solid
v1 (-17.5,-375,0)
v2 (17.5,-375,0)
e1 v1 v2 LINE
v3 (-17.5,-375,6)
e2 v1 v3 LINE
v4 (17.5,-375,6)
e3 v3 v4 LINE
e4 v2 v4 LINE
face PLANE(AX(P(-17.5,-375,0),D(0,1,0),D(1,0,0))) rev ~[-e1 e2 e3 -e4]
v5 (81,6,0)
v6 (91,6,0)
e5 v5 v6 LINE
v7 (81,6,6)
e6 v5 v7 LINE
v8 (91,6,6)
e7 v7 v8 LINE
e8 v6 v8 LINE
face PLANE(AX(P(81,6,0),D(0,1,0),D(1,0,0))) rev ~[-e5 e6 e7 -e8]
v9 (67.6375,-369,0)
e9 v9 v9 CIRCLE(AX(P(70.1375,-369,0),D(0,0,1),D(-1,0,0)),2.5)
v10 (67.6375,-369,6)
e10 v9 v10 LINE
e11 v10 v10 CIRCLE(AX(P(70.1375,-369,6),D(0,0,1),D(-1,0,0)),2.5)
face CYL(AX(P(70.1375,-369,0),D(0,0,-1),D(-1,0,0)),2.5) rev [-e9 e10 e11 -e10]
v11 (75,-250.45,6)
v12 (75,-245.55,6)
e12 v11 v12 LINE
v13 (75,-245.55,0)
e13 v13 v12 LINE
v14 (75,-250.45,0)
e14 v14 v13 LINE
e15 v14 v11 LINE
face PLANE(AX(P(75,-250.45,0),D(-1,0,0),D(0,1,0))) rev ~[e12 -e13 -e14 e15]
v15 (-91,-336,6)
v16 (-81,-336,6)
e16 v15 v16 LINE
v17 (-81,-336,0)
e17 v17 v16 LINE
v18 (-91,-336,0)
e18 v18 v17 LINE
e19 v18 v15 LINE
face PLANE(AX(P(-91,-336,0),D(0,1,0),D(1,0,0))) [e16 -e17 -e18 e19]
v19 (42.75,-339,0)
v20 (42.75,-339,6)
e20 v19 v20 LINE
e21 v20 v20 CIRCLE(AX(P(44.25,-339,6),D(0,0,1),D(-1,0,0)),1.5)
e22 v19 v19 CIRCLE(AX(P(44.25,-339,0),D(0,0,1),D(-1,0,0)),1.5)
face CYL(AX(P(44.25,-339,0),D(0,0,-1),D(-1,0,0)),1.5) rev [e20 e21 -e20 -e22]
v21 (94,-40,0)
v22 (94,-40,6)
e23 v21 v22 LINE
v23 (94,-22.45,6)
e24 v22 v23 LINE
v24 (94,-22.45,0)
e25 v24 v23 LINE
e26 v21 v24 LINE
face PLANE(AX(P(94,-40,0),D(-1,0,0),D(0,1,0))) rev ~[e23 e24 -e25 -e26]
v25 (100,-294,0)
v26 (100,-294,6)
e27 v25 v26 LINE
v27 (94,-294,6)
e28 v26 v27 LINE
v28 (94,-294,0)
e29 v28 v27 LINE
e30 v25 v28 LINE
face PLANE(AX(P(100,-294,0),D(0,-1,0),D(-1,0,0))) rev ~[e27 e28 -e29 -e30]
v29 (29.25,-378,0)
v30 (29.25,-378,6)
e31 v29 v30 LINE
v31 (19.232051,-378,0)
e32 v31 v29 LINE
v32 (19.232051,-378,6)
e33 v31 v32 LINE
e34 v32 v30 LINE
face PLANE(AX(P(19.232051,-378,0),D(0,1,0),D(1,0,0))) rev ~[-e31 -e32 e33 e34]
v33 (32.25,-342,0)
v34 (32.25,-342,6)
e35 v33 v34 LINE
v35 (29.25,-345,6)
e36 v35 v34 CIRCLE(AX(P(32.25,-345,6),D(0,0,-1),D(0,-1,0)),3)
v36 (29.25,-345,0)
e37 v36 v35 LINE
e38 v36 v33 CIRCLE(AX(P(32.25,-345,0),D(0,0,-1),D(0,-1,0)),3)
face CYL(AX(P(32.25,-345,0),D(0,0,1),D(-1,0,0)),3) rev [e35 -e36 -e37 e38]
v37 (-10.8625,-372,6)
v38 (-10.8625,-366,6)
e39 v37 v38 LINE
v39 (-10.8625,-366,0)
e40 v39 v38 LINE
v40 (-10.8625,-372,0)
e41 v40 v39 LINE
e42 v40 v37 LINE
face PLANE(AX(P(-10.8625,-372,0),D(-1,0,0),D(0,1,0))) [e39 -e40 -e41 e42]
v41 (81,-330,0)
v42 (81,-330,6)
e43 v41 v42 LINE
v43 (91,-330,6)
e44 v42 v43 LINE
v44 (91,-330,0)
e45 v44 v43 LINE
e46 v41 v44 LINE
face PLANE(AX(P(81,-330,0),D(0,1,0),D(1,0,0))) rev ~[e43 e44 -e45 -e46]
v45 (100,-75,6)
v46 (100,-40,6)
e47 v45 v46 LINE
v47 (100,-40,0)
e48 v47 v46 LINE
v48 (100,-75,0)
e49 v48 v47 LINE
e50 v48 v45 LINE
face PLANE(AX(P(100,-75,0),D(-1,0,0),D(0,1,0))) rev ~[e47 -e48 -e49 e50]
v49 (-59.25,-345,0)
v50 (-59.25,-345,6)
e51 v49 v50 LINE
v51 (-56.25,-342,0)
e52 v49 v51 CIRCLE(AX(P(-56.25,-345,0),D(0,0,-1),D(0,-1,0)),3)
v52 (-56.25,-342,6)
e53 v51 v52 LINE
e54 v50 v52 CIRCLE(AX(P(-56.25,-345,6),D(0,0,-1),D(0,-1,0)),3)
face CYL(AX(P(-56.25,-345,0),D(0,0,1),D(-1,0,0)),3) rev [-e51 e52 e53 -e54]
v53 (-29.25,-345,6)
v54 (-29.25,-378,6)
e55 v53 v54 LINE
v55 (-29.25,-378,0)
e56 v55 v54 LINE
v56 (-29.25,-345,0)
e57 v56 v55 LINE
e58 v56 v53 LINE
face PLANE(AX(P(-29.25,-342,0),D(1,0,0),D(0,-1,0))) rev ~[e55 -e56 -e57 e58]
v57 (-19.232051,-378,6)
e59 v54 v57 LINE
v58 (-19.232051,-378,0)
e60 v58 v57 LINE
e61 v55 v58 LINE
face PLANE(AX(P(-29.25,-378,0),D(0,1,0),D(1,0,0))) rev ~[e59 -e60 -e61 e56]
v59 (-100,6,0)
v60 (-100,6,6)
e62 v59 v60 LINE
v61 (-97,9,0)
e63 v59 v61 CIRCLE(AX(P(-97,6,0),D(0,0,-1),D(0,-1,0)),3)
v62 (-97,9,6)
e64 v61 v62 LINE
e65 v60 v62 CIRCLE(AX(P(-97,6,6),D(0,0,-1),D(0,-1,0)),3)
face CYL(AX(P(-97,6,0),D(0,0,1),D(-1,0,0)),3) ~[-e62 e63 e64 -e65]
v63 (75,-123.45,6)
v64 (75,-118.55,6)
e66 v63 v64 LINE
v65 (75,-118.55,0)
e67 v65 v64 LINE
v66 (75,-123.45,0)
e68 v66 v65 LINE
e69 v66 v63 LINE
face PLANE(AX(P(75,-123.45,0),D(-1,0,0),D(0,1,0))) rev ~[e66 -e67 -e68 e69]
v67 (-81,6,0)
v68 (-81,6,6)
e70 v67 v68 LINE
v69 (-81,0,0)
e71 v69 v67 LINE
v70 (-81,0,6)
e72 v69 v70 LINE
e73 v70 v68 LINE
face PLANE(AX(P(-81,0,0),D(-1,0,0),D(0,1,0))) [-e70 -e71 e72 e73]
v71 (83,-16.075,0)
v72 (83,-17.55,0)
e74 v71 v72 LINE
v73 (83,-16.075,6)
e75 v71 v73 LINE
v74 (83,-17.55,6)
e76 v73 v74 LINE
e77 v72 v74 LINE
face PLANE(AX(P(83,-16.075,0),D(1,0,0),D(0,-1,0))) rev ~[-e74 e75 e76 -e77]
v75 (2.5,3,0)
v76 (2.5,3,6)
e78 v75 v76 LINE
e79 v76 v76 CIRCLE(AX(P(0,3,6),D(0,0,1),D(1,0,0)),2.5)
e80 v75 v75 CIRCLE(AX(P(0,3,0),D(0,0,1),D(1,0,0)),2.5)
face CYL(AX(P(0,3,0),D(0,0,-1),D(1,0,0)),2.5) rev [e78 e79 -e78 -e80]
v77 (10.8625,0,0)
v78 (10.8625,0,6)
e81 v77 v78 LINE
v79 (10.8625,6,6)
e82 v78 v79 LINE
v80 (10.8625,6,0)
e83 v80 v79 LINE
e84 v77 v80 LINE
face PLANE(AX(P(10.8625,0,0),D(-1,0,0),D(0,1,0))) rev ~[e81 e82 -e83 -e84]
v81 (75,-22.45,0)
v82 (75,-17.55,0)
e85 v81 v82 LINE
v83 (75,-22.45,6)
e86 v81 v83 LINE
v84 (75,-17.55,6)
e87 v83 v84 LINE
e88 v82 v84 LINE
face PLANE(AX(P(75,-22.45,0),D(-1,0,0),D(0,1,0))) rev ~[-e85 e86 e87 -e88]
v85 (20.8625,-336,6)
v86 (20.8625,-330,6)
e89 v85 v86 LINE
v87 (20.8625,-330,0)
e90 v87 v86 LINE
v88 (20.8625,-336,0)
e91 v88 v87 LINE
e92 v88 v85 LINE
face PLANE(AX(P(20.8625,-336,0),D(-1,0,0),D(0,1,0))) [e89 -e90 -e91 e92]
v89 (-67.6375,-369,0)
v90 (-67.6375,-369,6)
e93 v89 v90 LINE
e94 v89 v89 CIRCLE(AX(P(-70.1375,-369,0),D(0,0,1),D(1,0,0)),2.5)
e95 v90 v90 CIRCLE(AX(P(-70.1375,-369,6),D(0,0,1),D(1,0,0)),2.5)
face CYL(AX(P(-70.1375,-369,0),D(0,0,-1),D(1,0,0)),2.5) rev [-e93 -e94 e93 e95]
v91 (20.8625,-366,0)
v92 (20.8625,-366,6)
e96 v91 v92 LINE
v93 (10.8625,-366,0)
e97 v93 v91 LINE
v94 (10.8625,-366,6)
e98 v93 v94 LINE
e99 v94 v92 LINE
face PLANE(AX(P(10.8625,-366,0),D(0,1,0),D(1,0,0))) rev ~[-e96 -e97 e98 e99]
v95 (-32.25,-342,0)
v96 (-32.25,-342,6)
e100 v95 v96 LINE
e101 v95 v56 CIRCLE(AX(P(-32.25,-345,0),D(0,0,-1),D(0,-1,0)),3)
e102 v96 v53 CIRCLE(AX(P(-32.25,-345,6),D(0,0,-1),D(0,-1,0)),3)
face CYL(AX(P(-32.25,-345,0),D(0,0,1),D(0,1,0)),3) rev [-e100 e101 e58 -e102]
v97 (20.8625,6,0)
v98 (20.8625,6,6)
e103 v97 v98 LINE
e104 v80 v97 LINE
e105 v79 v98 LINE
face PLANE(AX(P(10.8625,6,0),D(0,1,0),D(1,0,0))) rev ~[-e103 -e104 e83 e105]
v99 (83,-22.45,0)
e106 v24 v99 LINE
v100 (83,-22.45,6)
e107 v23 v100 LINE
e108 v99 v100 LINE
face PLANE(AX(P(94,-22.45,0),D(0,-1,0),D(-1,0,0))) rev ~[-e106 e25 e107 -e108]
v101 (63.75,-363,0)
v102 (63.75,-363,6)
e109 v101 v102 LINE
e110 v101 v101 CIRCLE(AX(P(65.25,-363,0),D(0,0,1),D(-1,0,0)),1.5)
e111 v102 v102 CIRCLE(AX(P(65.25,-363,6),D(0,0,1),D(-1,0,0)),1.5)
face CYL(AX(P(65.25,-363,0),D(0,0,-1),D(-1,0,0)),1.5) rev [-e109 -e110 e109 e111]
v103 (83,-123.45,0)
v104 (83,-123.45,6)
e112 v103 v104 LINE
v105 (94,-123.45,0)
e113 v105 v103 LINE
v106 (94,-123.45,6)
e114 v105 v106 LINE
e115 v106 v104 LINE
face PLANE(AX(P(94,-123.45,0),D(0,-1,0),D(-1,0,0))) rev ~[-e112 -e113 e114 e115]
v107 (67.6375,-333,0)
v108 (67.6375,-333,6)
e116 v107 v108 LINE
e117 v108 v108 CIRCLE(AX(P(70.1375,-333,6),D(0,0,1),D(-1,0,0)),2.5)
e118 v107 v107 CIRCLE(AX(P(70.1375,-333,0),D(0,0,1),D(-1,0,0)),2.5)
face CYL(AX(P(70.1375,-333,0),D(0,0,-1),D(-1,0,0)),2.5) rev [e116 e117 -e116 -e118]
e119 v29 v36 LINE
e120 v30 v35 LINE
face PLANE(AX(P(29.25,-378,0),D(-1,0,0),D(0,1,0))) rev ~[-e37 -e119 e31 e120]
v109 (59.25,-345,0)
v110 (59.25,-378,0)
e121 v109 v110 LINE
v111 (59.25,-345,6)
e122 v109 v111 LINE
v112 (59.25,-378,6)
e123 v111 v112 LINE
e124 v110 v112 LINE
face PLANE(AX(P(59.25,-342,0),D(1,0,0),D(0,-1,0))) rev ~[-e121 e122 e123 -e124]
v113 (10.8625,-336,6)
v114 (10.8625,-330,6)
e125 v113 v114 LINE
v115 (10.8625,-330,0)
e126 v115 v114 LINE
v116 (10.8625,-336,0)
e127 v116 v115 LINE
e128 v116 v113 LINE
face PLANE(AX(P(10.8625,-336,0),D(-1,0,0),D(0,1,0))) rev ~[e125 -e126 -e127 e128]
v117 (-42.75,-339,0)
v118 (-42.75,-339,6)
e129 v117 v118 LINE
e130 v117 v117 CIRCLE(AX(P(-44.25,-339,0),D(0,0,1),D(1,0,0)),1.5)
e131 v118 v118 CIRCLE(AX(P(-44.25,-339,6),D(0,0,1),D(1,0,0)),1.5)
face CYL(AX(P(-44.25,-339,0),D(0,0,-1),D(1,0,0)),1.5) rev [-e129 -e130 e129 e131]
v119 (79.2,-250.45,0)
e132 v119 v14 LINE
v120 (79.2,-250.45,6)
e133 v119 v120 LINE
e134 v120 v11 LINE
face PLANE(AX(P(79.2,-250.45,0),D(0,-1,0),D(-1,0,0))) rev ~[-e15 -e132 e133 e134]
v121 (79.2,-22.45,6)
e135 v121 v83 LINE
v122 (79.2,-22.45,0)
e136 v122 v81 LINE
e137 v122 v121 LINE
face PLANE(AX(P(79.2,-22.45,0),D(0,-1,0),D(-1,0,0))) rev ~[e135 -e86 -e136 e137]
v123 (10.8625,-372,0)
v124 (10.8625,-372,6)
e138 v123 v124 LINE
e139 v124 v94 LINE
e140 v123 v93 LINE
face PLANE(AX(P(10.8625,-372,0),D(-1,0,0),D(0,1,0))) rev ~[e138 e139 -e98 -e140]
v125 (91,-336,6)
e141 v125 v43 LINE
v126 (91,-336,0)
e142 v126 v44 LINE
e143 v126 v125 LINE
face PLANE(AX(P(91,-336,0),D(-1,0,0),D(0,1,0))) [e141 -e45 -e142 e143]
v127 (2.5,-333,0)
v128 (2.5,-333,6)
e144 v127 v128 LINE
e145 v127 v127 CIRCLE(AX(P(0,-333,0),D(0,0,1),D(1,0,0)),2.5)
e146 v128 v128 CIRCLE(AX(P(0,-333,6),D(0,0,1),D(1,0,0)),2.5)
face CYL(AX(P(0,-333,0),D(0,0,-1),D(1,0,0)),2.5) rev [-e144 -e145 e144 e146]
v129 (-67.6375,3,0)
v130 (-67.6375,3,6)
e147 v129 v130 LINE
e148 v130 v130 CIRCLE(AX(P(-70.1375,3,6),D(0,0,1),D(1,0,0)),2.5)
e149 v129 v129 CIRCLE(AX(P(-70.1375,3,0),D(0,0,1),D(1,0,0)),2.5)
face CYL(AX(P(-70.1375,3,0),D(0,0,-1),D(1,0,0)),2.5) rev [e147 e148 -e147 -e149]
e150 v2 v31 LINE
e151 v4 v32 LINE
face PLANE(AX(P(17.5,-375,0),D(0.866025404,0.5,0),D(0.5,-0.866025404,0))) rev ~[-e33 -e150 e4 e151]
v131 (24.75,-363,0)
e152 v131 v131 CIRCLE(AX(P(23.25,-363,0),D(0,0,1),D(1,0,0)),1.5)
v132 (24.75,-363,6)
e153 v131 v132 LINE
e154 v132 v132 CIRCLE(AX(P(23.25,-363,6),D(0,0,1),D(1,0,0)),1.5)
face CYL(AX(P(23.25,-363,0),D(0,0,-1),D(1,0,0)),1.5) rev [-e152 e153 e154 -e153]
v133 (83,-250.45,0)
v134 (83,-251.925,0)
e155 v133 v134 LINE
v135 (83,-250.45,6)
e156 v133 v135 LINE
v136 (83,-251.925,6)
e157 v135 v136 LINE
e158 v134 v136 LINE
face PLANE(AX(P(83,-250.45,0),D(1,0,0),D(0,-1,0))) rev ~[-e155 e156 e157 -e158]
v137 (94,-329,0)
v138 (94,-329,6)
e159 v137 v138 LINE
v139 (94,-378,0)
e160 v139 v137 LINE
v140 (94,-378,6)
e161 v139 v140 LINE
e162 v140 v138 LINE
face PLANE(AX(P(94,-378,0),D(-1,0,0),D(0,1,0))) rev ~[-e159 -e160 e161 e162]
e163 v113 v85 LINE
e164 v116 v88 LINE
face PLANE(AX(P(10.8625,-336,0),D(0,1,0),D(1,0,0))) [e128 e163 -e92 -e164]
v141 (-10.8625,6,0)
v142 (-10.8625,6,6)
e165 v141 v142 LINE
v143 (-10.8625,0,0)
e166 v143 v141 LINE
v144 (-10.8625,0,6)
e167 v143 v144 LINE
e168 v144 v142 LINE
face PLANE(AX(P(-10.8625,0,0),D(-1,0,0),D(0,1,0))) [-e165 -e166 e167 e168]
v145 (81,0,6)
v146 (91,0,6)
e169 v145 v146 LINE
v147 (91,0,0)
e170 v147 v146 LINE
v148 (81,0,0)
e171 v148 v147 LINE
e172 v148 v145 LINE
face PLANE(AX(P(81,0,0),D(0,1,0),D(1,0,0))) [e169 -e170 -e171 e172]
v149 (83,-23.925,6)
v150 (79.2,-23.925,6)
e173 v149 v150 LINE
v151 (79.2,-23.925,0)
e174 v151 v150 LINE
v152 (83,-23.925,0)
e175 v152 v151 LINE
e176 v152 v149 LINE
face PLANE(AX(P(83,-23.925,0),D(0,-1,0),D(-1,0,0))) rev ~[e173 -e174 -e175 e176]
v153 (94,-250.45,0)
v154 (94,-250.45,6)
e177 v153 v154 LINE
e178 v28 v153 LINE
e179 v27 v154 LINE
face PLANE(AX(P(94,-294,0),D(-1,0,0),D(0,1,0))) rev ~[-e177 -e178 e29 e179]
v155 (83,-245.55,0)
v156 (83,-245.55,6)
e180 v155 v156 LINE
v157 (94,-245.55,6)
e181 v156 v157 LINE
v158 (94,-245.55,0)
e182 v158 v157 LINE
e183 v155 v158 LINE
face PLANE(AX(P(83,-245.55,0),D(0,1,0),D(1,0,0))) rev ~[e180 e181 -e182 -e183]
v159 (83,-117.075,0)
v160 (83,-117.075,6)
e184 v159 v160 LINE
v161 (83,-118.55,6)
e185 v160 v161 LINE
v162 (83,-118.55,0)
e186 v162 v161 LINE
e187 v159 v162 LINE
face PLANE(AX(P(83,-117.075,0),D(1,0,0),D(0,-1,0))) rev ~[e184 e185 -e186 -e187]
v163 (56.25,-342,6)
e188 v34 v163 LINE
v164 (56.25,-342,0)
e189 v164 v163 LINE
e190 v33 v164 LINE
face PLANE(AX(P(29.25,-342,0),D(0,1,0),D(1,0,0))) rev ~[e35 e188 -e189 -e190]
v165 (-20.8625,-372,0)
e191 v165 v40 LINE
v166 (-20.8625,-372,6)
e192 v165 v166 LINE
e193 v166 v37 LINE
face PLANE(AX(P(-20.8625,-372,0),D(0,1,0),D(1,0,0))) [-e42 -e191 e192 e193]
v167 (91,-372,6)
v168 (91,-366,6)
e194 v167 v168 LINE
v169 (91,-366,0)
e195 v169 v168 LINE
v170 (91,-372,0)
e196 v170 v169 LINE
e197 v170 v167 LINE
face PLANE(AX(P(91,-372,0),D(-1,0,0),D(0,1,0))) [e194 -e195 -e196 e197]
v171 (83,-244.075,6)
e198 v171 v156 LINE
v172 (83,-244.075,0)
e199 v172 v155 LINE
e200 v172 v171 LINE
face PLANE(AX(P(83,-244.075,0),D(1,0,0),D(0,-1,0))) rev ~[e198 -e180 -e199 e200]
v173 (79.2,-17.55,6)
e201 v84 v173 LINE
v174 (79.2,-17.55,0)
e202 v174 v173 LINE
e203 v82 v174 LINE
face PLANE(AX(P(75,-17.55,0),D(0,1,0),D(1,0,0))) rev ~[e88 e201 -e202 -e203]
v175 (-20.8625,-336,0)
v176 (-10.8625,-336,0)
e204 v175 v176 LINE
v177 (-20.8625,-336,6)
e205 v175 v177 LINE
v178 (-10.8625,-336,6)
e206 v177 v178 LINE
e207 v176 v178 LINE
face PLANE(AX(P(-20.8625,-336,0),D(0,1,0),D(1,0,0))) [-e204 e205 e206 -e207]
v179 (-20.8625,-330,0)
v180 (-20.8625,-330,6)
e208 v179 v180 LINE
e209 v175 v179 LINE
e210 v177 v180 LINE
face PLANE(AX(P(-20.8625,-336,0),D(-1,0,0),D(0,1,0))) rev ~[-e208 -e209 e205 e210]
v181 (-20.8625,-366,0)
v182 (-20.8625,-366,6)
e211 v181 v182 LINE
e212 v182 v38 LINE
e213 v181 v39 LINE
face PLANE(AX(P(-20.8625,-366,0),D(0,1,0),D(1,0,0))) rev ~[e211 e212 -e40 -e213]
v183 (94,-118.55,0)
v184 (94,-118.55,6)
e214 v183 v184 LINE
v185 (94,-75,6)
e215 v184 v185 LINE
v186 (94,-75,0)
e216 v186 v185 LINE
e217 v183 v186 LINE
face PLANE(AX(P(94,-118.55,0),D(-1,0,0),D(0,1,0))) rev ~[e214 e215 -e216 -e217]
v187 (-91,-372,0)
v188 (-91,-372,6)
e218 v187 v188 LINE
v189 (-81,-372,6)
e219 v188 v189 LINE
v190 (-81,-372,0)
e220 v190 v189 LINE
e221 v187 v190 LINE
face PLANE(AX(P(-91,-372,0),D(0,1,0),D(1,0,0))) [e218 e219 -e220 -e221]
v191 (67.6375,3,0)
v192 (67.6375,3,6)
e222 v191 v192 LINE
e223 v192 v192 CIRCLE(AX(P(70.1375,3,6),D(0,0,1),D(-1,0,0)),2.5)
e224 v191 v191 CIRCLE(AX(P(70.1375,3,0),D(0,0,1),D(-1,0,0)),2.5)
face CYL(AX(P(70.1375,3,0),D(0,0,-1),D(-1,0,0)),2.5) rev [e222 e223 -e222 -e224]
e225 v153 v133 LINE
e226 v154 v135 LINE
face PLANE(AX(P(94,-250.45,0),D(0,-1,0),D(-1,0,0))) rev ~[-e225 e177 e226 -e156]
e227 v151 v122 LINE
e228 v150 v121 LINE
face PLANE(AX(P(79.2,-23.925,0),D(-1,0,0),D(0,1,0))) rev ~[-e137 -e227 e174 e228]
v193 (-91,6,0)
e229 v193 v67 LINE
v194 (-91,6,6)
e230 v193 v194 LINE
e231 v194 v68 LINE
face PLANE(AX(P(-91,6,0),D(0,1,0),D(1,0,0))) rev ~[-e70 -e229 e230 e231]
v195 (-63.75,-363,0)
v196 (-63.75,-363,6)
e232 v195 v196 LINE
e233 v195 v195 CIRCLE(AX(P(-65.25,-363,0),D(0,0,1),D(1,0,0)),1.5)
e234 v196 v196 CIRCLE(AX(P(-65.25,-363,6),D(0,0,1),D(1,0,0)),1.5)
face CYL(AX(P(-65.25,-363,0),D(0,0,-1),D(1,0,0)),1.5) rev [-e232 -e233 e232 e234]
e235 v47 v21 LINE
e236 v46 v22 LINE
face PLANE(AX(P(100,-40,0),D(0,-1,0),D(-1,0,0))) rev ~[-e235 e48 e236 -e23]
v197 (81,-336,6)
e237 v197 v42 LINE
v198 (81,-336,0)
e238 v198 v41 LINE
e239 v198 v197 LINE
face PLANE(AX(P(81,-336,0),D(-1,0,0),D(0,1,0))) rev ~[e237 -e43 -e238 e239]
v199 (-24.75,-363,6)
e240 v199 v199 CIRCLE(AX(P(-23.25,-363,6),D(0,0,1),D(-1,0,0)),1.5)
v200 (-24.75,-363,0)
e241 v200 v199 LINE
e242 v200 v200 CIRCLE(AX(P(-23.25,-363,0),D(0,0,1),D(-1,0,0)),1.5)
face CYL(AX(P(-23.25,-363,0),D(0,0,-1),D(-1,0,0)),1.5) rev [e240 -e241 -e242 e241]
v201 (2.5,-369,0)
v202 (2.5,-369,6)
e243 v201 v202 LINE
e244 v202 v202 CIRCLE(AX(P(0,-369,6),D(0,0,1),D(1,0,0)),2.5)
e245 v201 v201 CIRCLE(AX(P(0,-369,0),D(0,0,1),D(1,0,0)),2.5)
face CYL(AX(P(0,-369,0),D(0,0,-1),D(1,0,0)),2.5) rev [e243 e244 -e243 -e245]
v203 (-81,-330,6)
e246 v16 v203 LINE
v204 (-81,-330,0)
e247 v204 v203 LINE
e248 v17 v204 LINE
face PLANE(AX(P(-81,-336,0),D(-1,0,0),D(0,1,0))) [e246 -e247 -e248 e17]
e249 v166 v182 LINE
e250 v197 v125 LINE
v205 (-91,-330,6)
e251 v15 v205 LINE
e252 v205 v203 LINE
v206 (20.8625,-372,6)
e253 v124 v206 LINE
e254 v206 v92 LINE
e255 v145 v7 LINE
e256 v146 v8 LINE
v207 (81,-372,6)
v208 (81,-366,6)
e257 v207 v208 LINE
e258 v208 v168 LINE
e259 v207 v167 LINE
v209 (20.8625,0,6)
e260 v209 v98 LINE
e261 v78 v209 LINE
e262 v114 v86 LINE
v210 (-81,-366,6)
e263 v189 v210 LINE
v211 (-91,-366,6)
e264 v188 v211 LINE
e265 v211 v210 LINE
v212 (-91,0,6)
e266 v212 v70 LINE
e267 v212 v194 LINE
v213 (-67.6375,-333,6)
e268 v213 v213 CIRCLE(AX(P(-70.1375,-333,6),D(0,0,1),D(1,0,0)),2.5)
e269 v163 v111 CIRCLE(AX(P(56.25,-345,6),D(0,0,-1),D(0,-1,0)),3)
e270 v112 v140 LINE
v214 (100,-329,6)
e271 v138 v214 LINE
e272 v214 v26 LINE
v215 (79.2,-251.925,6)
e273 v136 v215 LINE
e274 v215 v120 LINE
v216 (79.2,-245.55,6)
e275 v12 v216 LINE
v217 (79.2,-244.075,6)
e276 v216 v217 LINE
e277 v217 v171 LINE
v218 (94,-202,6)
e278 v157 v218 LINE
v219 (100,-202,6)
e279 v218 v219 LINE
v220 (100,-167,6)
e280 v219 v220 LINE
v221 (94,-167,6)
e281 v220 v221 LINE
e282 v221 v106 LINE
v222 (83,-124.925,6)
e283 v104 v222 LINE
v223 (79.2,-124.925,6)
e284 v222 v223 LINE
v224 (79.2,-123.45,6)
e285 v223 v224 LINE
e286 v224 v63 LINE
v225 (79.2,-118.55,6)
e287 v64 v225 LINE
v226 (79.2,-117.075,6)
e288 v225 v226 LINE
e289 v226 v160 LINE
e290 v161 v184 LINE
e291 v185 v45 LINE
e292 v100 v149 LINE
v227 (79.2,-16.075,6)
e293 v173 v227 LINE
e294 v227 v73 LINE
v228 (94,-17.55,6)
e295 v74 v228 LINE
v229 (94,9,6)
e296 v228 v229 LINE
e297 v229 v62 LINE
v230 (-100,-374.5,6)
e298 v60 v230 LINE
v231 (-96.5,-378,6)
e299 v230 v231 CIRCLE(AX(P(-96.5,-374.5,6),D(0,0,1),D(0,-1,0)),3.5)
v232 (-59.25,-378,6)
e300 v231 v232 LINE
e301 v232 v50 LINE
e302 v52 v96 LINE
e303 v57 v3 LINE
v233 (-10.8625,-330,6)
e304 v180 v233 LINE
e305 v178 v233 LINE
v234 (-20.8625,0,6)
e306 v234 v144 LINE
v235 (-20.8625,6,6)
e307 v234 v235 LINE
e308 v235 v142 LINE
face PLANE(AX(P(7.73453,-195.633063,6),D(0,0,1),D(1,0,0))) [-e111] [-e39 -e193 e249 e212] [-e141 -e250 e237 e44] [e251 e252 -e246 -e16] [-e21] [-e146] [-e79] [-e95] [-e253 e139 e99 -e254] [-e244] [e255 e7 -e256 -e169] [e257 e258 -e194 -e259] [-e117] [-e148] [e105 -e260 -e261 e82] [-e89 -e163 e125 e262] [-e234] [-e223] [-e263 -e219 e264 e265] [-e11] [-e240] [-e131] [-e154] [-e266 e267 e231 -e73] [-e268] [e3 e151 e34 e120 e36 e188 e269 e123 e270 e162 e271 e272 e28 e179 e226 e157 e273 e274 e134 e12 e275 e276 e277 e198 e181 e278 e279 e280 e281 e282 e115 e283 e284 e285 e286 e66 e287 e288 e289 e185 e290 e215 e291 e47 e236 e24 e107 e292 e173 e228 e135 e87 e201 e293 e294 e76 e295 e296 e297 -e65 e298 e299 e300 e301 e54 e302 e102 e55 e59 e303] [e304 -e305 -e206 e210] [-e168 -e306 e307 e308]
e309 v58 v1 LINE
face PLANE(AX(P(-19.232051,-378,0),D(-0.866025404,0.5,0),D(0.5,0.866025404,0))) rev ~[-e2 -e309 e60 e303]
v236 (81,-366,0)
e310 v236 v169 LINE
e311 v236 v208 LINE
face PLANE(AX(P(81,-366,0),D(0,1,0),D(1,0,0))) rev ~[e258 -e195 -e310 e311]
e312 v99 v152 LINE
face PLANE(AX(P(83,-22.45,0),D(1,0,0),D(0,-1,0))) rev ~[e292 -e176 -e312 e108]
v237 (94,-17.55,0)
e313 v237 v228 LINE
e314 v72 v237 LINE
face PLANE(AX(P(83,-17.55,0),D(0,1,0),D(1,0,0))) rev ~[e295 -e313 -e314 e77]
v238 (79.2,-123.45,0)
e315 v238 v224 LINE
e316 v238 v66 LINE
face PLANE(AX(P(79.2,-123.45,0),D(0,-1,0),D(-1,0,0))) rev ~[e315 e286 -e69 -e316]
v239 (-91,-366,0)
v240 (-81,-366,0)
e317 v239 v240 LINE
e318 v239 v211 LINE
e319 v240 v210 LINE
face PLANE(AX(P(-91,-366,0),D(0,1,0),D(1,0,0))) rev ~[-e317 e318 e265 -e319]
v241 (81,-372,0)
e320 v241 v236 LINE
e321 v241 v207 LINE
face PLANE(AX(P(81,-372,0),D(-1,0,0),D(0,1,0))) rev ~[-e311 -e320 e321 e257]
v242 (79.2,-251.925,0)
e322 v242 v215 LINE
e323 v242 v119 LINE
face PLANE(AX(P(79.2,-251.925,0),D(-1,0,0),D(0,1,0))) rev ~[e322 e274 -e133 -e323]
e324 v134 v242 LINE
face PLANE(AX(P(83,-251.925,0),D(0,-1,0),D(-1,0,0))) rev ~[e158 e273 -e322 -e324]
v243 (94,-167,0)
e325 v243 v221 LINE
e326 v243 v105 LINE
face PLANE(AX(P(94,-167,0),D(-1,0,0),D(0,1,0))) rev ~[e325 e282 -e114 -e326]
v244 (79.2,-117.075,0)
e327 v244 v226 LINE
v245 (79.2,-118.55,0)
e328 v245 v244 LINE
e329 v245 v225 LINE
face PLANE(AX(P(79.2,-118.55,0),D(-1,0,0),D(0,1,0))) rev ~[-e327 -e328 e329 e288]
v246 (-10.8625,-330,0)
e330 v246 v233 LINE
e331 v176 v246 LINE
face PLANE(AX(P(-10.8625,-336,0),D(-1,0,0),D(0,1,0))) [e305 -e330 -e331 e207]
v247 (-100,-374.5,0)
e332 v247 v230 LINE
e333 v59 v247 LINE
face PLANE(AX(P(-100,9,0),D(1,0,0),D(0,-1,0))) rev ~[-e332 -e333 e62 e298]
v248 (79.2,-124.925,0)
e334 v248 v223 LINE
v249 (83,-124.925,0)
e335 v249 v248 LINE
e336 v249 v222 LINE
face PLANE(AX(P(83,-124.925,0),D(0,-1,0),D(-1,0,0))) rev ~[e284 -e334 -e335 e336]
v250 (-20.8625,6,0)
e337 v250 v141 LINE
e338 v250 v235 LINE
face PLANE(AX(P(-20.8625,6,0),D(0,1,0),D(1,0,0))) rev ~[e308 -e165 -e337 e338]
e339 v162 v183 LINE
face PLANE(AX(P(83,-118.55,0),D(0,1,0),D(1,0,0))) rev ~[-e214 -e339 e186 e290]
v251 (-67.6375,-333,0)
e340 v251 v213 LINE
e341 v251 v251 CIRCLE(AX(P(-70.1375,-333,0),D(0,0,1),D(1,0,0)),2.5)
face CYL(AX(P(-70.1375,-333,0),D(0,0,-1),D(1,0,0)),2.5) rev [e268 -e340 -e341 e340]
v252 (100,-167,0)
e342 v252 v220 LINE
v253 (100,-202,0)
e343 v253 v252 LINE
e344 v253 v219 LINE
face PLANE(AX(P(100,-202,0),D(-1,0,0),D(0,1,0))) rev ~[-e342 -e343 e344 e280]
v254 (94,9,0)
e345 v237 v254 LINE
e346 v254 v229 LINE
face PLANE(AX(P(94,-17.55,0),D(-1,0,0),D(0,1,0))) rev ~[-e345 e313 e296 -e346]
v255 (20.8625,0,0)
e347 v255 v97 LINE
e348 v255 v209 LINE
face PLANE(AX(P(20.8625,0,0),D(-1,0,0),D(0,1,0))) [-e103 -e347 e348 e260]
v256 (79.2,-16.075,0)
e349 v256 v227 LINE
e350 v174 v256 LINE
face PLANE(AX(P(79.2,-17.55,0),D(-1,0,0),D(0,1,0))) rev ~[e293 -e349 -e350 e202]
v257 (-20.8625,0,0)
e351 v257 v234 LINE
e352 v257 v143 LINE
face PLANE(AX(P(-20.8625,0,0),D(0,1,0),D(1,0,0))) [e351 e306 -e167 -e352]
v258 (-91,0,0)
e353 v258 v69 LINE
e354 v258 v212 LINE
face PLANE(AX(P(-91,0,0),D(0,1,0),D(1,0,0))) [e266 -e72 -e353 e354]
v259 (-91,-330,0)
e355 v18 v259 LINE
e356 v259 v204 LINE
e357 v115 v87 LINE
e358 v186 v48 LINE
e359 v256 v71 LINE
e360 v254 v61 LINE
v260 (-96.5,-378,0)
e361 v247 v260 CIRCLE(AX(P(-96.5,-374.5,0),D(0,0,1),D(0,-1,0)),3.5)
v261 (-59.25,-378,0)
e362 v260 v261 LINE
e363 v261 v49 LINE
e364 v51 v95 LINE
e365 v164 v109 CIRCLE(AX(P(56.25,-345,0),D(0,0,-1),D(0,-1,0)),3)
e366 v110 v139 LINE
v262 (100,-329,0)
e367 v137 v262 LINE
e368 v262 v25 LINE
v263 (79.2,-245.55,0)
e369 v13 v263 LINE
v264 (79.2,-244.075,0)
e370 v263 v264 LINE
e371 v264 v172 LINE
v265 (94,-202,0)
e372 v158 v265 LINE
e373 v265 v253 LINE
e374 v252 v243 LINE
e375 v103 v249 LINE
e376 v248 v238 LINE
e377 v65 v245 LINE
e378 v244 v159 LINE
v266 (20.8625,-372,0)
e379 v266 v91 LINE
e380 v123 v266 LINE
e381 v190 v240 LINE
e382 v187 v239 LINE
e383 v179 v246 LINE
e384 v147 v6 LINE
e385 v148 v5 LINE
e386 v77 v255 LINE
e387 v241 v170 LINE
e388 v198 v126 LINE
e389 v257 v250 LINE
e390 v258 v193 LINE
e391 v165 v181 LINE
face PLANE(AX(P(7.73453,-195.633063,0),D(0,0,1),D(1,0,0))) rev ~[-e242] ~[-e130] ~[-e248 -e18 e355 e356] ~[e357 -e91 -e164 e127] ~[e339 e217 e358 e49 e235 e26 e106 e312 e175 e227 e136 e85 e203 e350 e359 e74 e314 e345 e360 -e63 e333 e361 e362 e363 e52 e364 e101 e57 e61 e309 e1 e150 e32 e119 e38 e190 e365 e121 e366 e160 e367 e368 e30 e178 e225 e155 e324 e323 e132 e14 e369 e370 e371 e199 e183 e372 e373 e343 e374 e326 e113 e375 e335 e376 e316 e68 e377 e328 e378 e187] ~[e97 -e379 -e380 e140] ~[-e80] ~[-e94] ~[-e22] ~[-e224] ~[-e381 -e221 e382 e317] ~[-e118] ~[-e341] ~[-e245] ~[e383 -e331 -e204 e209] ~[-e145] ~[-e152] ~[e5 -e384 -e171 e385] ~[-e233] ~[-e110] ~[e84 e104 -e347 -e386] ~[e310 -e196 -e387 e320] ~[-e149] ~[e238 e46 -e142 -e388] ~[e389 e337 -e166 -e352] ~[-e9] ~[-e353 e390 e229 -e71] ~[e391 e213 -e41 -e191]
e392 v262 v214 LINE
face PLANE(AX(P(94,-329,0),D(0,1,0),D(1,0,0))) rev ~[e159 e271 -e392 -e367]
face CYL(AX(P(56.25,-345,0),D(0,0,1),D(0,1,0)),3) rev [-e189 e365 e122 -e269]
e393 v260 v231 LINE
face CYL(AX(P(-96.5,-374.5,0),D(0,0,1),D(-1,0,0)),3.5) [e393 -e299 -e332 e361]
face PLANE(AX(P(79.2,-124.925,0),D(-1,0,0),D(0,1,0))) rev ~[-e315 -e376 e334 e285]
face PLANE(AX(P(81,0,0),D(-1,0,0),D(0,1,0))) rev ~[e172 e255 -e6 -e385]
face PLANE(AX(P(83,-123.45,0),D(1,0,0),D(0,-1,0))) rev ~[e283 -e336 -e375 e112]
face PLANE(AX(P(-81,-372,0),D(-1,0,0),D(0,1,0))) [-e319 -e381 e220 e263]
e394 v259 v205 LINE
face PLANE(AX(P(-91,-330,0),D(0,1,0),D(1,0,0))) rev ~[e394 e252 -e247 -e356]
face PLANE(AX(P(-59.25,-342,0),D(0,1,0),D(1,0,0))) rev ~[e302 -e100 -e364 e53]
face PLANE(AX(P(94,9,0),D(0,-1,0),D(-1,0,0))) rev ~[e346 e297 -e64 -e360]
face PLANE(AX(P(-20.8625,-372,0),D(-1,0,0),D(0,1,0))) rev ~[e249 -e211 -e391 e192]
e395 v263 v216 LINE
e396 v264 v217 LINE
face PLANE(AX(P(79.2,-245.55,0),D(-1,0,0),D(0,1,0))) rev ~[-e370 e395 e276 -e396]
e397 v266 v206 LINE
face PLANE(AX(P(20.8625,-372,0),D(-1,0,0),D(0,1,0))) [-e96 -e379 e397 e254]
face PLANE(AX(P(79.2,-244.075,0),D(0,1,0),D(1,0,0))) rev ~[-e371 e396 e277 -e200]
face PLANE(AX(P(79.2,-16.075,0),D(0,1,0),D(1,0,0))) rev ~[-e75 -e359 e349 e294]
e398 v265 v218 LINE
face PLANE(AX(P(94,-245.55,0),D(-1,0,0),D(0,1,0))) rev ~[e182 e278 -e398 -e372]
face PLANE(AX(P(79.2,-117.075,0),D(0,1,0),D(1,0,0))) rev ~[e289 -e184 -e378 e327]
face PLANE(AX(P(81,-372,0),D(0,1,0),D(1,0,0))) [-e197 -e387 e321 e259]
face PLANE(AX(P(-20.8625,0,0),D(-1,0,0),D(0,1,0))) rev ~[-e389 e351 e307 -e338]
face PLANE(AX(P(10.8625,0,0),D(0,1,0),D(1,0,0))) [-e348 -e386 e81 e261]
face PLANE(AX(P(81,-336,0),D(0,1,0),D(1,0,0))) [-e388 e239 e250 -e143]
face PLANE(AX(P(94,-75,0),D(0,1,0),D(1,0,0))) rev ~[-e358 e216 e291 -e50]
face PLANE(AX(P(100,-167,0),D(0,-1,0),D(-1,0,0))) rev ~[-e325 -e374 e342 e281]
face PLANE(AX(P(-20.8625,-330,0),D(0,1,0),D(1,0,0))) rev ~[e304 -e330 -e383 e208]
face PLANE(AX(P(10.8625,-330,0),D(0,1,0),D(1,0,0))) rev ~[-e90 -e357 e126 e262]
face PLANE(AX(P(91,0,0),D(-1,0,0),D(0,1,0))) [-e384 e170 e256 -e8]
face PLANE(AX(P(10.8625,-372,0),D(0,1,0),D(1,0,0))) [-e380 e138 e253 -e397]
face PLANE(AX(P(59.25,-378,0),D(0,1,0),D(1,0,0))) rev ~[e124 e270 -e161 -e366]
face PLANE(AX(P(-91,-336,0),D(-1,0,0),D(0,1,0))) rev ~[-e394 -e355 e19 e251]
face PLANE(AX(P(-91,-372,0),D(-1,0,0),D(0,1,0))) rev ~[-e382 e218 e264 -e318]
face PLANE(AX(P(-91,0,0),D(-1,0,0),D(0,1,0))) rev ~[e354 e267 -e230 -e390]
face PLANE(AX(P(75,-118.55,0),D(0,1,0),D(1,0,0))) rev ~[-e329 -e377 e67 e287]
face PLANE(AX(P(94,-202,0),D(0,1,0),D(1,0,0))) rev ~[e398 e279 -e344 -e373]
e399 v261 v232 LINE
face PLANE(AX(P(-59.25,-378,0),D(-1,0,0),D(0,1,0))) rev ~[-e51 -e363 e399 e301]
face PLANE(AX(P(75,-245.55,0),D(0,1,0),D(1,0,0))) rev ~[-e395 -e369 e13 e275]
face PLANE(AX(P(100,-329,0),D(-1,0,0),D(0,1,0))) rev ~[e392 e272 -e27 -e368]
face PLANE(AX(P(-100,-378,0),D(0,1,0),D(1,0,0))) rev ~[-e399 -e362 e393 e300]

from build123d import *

# Parameters (mm, degrees)
SKETCH_1_R      = 2.5
SKETCH_1_R_2    = 1.5
SKETCH_1_W      = 10
SKETCH_1_H      = 6
EXTRUDE_1_DEPTH = 6
FILLET_1_R      = 3
FILLET_2_R      = 3.5


with BuildPart() as part:
    # Эскиз1 → Бобышка-Вытянуть1 (new body)
    with BuildSketch(Plane.XY):
        Polygon((-100, 9), (-100, -378), (-59.25, -378), (-59.25, -342), (-29.25, -342), (-29.25, -378), (-19.232050808, -378), (-17.5, -375), (17.5, -375), (19.232050808, -378), (29.25, -378), (29.25, -342), (59.25, -342), (59.25, -378), (94, -378), (94, -329), (100, -329), (100, -294), (94, -294), (94, -250.45), (83, -250.45), (83, -251.925), (79.2, -251.925), (79.2, -250.45), (75, -250.45), (75, -245.55), (79.2, -245.55), (79.2, -244.075), (83, -244.075), (83, -245.55), (94, -245.55), (94, -202), (100, -202), (100, -167), (94, -167), (94, -123.45), (83, -123.45), (83, -124.925), (79.2, -124.925), (79.2, -123.45), (75, -123.45), (75, -118.55), (79.2, -118.55), (79.2, -117.075), (83, -117.075), (83, -118.55), (94, -118.55), (94, -75), (100, -75), (100, -40), (94, -40), (94, -22.45), (83, -22.45), (83, -23.925), (79.2, -23.925), (79.2, -22.45), (75, -22.45), (75, -17.55), (79.2, -17.55), (79.2, -16.075), (83, -16.075), (83, -17.55), (94, -17.55), (94, 9), align=None)
        with Locations((-70.1375, 3)):
            Circle(SKETCH_1_R, mode=Mode.SUBTRACT)
        with Locations((0, 3)):
            Circle(SKETCH_1_R, mode=Mode.SUBTRACT)
        with Locations(Location((70.1375, 3, 0), (0, 0, 180))):
            Circle(SKETCH_1_R, mode=Mode.SUBTRACT)
        with Locations((-70.1375, -333)):
            Circle(SKETCH_1_R, mode=Mode.SUBTRACT)
        with Locations((0, -333)):
            Circle(SKETCH_1_R, mode=Mode.SUBTRACT)
        with Locations(Location((70.1375, -333, 0), (0, 0, 180))):
            Circle(SKETCH_1_R, mode=Mode.SUBTRACT)
        with Locations((-70.1375, -369)):
            Circle(SKETCH_1_R, mode=Mode.SUBTRACT)
        with Locations((0, -369)):
            Circle(SKETCH_1_R, mode=Mode.SUBTRACT)
        with Locations(Location((70.1375, -369, 0), (0, 0, 180))):
            Circle(SKETCH_1_R, mode=Mode.SUBTRACT)
        with Locations((-65.25, -363)):
            Circle(SKETCH_1_R_2, mode=Mode.SUBTRACT)
        with Locations((-44.25, -339)):
            Circle(SKETCH_1_R_2, mode=Mode.SUBTRACT)
        with Locations(Location((-23.25, -363, 0), (0, 0, 180))):
            Circle(SKETCH_1_R_2, mode=Mode.SUBTRACT)
        with Locations((23.25, -363)):
            Circle(SKETCH_1_R_2, mode=Mode.SUBTRACT)
        with Locations(Location((44.25, -339, 0), (0, 0, 180))):
            Circle(SKETCH_1_R_2, mode=Mode.SUBTRACT)
        with Locations(Location((65.25, -363, 0), (0, 0, 180))):
            Circle(SKETCH_1_R_2, mode=Mode.SUBTRACT)
        with Locations((86, 3)):
            Rectangle(SKETCH_1_W, SKETCH_1_H, mode=Mode.SUBTRACT)
        with Locations((15.8625, 3)):
            Rectangle(SKETCH_1_W, SKETCH_1_H, mode=Mode.SUBTRACT)
        with Locations((-15.8625, 3)):
            Rectangle(SKETCH_1_W, SKETCH_1_H, mode=Mode.SUBTRACT)
        with Locations((-86, 3)):
            Rectangle(SKETCH_1_W, SKETCH_1_H, mode=Mode.SUBTRACT)
        with Locations((86, -333)):
            Rectangle(SKETCH_1_W, SKETCH_1_H, mode=Mode.SUBTRACT)
        with Locations((15.8625, -333)):
            Rectangle(SKETCH_1_W, SKETCH_1_H, mode=Mode.SUBTRACT)
        with Locations((-15.8625, -333)):
            Rectangle(SKETCH_1_W, SKETCH_1_H, mode=Mode.SUBTRACT)
        with Locations((-86, -333)):
            Rectangle(SKETCH_1_W, SKETCH_1_H, mode=Mode.SUBTRACT)
        with Locations((86, -369)):
            Rectangle(SKETCH_1_W, SKETCH_1_H, mode=Mode.SUBTRACT)
        with Locations((15.8625, -369)):
            Rectangle(SKETCH_1_W, SKETCH_1_H, mode=Mode.SUBTRACT)
        with Locations((-15.8625, -369)):
            Rectangle(SKETCH_1_W, SKETCH_1_H, mode=Mode.SUBTRACT)
        with Locations((-86, -369)):
            Rectangle(SKETCH_1_W, SKETCH_1_H, mode=Mode.SUBTRACT)
    extrude(amount=EXTRUDE_1_DEPTH)

    # Скругление1
    fillet_1_edges = [part.edges().sort_by_distance(p)[0] for p in [
        (59.25, -342, 3),
        (29.25, -342, 3),
        (-29.25, -342, 3),
        (-59.25, -342, 3),
        (-100, 9, 3),
    ]]
    fillet(fillet_1_edges, radius=FILLET_1_R)

    # Скругление2
    fillet_2_edges = [part.edges().sort_by_distance(p)[0] for p in [
        (-100, -378, 3),
    ]]
    fillet(fillet_2_edges, radius=FILLET_2_R)


solid = part.part
